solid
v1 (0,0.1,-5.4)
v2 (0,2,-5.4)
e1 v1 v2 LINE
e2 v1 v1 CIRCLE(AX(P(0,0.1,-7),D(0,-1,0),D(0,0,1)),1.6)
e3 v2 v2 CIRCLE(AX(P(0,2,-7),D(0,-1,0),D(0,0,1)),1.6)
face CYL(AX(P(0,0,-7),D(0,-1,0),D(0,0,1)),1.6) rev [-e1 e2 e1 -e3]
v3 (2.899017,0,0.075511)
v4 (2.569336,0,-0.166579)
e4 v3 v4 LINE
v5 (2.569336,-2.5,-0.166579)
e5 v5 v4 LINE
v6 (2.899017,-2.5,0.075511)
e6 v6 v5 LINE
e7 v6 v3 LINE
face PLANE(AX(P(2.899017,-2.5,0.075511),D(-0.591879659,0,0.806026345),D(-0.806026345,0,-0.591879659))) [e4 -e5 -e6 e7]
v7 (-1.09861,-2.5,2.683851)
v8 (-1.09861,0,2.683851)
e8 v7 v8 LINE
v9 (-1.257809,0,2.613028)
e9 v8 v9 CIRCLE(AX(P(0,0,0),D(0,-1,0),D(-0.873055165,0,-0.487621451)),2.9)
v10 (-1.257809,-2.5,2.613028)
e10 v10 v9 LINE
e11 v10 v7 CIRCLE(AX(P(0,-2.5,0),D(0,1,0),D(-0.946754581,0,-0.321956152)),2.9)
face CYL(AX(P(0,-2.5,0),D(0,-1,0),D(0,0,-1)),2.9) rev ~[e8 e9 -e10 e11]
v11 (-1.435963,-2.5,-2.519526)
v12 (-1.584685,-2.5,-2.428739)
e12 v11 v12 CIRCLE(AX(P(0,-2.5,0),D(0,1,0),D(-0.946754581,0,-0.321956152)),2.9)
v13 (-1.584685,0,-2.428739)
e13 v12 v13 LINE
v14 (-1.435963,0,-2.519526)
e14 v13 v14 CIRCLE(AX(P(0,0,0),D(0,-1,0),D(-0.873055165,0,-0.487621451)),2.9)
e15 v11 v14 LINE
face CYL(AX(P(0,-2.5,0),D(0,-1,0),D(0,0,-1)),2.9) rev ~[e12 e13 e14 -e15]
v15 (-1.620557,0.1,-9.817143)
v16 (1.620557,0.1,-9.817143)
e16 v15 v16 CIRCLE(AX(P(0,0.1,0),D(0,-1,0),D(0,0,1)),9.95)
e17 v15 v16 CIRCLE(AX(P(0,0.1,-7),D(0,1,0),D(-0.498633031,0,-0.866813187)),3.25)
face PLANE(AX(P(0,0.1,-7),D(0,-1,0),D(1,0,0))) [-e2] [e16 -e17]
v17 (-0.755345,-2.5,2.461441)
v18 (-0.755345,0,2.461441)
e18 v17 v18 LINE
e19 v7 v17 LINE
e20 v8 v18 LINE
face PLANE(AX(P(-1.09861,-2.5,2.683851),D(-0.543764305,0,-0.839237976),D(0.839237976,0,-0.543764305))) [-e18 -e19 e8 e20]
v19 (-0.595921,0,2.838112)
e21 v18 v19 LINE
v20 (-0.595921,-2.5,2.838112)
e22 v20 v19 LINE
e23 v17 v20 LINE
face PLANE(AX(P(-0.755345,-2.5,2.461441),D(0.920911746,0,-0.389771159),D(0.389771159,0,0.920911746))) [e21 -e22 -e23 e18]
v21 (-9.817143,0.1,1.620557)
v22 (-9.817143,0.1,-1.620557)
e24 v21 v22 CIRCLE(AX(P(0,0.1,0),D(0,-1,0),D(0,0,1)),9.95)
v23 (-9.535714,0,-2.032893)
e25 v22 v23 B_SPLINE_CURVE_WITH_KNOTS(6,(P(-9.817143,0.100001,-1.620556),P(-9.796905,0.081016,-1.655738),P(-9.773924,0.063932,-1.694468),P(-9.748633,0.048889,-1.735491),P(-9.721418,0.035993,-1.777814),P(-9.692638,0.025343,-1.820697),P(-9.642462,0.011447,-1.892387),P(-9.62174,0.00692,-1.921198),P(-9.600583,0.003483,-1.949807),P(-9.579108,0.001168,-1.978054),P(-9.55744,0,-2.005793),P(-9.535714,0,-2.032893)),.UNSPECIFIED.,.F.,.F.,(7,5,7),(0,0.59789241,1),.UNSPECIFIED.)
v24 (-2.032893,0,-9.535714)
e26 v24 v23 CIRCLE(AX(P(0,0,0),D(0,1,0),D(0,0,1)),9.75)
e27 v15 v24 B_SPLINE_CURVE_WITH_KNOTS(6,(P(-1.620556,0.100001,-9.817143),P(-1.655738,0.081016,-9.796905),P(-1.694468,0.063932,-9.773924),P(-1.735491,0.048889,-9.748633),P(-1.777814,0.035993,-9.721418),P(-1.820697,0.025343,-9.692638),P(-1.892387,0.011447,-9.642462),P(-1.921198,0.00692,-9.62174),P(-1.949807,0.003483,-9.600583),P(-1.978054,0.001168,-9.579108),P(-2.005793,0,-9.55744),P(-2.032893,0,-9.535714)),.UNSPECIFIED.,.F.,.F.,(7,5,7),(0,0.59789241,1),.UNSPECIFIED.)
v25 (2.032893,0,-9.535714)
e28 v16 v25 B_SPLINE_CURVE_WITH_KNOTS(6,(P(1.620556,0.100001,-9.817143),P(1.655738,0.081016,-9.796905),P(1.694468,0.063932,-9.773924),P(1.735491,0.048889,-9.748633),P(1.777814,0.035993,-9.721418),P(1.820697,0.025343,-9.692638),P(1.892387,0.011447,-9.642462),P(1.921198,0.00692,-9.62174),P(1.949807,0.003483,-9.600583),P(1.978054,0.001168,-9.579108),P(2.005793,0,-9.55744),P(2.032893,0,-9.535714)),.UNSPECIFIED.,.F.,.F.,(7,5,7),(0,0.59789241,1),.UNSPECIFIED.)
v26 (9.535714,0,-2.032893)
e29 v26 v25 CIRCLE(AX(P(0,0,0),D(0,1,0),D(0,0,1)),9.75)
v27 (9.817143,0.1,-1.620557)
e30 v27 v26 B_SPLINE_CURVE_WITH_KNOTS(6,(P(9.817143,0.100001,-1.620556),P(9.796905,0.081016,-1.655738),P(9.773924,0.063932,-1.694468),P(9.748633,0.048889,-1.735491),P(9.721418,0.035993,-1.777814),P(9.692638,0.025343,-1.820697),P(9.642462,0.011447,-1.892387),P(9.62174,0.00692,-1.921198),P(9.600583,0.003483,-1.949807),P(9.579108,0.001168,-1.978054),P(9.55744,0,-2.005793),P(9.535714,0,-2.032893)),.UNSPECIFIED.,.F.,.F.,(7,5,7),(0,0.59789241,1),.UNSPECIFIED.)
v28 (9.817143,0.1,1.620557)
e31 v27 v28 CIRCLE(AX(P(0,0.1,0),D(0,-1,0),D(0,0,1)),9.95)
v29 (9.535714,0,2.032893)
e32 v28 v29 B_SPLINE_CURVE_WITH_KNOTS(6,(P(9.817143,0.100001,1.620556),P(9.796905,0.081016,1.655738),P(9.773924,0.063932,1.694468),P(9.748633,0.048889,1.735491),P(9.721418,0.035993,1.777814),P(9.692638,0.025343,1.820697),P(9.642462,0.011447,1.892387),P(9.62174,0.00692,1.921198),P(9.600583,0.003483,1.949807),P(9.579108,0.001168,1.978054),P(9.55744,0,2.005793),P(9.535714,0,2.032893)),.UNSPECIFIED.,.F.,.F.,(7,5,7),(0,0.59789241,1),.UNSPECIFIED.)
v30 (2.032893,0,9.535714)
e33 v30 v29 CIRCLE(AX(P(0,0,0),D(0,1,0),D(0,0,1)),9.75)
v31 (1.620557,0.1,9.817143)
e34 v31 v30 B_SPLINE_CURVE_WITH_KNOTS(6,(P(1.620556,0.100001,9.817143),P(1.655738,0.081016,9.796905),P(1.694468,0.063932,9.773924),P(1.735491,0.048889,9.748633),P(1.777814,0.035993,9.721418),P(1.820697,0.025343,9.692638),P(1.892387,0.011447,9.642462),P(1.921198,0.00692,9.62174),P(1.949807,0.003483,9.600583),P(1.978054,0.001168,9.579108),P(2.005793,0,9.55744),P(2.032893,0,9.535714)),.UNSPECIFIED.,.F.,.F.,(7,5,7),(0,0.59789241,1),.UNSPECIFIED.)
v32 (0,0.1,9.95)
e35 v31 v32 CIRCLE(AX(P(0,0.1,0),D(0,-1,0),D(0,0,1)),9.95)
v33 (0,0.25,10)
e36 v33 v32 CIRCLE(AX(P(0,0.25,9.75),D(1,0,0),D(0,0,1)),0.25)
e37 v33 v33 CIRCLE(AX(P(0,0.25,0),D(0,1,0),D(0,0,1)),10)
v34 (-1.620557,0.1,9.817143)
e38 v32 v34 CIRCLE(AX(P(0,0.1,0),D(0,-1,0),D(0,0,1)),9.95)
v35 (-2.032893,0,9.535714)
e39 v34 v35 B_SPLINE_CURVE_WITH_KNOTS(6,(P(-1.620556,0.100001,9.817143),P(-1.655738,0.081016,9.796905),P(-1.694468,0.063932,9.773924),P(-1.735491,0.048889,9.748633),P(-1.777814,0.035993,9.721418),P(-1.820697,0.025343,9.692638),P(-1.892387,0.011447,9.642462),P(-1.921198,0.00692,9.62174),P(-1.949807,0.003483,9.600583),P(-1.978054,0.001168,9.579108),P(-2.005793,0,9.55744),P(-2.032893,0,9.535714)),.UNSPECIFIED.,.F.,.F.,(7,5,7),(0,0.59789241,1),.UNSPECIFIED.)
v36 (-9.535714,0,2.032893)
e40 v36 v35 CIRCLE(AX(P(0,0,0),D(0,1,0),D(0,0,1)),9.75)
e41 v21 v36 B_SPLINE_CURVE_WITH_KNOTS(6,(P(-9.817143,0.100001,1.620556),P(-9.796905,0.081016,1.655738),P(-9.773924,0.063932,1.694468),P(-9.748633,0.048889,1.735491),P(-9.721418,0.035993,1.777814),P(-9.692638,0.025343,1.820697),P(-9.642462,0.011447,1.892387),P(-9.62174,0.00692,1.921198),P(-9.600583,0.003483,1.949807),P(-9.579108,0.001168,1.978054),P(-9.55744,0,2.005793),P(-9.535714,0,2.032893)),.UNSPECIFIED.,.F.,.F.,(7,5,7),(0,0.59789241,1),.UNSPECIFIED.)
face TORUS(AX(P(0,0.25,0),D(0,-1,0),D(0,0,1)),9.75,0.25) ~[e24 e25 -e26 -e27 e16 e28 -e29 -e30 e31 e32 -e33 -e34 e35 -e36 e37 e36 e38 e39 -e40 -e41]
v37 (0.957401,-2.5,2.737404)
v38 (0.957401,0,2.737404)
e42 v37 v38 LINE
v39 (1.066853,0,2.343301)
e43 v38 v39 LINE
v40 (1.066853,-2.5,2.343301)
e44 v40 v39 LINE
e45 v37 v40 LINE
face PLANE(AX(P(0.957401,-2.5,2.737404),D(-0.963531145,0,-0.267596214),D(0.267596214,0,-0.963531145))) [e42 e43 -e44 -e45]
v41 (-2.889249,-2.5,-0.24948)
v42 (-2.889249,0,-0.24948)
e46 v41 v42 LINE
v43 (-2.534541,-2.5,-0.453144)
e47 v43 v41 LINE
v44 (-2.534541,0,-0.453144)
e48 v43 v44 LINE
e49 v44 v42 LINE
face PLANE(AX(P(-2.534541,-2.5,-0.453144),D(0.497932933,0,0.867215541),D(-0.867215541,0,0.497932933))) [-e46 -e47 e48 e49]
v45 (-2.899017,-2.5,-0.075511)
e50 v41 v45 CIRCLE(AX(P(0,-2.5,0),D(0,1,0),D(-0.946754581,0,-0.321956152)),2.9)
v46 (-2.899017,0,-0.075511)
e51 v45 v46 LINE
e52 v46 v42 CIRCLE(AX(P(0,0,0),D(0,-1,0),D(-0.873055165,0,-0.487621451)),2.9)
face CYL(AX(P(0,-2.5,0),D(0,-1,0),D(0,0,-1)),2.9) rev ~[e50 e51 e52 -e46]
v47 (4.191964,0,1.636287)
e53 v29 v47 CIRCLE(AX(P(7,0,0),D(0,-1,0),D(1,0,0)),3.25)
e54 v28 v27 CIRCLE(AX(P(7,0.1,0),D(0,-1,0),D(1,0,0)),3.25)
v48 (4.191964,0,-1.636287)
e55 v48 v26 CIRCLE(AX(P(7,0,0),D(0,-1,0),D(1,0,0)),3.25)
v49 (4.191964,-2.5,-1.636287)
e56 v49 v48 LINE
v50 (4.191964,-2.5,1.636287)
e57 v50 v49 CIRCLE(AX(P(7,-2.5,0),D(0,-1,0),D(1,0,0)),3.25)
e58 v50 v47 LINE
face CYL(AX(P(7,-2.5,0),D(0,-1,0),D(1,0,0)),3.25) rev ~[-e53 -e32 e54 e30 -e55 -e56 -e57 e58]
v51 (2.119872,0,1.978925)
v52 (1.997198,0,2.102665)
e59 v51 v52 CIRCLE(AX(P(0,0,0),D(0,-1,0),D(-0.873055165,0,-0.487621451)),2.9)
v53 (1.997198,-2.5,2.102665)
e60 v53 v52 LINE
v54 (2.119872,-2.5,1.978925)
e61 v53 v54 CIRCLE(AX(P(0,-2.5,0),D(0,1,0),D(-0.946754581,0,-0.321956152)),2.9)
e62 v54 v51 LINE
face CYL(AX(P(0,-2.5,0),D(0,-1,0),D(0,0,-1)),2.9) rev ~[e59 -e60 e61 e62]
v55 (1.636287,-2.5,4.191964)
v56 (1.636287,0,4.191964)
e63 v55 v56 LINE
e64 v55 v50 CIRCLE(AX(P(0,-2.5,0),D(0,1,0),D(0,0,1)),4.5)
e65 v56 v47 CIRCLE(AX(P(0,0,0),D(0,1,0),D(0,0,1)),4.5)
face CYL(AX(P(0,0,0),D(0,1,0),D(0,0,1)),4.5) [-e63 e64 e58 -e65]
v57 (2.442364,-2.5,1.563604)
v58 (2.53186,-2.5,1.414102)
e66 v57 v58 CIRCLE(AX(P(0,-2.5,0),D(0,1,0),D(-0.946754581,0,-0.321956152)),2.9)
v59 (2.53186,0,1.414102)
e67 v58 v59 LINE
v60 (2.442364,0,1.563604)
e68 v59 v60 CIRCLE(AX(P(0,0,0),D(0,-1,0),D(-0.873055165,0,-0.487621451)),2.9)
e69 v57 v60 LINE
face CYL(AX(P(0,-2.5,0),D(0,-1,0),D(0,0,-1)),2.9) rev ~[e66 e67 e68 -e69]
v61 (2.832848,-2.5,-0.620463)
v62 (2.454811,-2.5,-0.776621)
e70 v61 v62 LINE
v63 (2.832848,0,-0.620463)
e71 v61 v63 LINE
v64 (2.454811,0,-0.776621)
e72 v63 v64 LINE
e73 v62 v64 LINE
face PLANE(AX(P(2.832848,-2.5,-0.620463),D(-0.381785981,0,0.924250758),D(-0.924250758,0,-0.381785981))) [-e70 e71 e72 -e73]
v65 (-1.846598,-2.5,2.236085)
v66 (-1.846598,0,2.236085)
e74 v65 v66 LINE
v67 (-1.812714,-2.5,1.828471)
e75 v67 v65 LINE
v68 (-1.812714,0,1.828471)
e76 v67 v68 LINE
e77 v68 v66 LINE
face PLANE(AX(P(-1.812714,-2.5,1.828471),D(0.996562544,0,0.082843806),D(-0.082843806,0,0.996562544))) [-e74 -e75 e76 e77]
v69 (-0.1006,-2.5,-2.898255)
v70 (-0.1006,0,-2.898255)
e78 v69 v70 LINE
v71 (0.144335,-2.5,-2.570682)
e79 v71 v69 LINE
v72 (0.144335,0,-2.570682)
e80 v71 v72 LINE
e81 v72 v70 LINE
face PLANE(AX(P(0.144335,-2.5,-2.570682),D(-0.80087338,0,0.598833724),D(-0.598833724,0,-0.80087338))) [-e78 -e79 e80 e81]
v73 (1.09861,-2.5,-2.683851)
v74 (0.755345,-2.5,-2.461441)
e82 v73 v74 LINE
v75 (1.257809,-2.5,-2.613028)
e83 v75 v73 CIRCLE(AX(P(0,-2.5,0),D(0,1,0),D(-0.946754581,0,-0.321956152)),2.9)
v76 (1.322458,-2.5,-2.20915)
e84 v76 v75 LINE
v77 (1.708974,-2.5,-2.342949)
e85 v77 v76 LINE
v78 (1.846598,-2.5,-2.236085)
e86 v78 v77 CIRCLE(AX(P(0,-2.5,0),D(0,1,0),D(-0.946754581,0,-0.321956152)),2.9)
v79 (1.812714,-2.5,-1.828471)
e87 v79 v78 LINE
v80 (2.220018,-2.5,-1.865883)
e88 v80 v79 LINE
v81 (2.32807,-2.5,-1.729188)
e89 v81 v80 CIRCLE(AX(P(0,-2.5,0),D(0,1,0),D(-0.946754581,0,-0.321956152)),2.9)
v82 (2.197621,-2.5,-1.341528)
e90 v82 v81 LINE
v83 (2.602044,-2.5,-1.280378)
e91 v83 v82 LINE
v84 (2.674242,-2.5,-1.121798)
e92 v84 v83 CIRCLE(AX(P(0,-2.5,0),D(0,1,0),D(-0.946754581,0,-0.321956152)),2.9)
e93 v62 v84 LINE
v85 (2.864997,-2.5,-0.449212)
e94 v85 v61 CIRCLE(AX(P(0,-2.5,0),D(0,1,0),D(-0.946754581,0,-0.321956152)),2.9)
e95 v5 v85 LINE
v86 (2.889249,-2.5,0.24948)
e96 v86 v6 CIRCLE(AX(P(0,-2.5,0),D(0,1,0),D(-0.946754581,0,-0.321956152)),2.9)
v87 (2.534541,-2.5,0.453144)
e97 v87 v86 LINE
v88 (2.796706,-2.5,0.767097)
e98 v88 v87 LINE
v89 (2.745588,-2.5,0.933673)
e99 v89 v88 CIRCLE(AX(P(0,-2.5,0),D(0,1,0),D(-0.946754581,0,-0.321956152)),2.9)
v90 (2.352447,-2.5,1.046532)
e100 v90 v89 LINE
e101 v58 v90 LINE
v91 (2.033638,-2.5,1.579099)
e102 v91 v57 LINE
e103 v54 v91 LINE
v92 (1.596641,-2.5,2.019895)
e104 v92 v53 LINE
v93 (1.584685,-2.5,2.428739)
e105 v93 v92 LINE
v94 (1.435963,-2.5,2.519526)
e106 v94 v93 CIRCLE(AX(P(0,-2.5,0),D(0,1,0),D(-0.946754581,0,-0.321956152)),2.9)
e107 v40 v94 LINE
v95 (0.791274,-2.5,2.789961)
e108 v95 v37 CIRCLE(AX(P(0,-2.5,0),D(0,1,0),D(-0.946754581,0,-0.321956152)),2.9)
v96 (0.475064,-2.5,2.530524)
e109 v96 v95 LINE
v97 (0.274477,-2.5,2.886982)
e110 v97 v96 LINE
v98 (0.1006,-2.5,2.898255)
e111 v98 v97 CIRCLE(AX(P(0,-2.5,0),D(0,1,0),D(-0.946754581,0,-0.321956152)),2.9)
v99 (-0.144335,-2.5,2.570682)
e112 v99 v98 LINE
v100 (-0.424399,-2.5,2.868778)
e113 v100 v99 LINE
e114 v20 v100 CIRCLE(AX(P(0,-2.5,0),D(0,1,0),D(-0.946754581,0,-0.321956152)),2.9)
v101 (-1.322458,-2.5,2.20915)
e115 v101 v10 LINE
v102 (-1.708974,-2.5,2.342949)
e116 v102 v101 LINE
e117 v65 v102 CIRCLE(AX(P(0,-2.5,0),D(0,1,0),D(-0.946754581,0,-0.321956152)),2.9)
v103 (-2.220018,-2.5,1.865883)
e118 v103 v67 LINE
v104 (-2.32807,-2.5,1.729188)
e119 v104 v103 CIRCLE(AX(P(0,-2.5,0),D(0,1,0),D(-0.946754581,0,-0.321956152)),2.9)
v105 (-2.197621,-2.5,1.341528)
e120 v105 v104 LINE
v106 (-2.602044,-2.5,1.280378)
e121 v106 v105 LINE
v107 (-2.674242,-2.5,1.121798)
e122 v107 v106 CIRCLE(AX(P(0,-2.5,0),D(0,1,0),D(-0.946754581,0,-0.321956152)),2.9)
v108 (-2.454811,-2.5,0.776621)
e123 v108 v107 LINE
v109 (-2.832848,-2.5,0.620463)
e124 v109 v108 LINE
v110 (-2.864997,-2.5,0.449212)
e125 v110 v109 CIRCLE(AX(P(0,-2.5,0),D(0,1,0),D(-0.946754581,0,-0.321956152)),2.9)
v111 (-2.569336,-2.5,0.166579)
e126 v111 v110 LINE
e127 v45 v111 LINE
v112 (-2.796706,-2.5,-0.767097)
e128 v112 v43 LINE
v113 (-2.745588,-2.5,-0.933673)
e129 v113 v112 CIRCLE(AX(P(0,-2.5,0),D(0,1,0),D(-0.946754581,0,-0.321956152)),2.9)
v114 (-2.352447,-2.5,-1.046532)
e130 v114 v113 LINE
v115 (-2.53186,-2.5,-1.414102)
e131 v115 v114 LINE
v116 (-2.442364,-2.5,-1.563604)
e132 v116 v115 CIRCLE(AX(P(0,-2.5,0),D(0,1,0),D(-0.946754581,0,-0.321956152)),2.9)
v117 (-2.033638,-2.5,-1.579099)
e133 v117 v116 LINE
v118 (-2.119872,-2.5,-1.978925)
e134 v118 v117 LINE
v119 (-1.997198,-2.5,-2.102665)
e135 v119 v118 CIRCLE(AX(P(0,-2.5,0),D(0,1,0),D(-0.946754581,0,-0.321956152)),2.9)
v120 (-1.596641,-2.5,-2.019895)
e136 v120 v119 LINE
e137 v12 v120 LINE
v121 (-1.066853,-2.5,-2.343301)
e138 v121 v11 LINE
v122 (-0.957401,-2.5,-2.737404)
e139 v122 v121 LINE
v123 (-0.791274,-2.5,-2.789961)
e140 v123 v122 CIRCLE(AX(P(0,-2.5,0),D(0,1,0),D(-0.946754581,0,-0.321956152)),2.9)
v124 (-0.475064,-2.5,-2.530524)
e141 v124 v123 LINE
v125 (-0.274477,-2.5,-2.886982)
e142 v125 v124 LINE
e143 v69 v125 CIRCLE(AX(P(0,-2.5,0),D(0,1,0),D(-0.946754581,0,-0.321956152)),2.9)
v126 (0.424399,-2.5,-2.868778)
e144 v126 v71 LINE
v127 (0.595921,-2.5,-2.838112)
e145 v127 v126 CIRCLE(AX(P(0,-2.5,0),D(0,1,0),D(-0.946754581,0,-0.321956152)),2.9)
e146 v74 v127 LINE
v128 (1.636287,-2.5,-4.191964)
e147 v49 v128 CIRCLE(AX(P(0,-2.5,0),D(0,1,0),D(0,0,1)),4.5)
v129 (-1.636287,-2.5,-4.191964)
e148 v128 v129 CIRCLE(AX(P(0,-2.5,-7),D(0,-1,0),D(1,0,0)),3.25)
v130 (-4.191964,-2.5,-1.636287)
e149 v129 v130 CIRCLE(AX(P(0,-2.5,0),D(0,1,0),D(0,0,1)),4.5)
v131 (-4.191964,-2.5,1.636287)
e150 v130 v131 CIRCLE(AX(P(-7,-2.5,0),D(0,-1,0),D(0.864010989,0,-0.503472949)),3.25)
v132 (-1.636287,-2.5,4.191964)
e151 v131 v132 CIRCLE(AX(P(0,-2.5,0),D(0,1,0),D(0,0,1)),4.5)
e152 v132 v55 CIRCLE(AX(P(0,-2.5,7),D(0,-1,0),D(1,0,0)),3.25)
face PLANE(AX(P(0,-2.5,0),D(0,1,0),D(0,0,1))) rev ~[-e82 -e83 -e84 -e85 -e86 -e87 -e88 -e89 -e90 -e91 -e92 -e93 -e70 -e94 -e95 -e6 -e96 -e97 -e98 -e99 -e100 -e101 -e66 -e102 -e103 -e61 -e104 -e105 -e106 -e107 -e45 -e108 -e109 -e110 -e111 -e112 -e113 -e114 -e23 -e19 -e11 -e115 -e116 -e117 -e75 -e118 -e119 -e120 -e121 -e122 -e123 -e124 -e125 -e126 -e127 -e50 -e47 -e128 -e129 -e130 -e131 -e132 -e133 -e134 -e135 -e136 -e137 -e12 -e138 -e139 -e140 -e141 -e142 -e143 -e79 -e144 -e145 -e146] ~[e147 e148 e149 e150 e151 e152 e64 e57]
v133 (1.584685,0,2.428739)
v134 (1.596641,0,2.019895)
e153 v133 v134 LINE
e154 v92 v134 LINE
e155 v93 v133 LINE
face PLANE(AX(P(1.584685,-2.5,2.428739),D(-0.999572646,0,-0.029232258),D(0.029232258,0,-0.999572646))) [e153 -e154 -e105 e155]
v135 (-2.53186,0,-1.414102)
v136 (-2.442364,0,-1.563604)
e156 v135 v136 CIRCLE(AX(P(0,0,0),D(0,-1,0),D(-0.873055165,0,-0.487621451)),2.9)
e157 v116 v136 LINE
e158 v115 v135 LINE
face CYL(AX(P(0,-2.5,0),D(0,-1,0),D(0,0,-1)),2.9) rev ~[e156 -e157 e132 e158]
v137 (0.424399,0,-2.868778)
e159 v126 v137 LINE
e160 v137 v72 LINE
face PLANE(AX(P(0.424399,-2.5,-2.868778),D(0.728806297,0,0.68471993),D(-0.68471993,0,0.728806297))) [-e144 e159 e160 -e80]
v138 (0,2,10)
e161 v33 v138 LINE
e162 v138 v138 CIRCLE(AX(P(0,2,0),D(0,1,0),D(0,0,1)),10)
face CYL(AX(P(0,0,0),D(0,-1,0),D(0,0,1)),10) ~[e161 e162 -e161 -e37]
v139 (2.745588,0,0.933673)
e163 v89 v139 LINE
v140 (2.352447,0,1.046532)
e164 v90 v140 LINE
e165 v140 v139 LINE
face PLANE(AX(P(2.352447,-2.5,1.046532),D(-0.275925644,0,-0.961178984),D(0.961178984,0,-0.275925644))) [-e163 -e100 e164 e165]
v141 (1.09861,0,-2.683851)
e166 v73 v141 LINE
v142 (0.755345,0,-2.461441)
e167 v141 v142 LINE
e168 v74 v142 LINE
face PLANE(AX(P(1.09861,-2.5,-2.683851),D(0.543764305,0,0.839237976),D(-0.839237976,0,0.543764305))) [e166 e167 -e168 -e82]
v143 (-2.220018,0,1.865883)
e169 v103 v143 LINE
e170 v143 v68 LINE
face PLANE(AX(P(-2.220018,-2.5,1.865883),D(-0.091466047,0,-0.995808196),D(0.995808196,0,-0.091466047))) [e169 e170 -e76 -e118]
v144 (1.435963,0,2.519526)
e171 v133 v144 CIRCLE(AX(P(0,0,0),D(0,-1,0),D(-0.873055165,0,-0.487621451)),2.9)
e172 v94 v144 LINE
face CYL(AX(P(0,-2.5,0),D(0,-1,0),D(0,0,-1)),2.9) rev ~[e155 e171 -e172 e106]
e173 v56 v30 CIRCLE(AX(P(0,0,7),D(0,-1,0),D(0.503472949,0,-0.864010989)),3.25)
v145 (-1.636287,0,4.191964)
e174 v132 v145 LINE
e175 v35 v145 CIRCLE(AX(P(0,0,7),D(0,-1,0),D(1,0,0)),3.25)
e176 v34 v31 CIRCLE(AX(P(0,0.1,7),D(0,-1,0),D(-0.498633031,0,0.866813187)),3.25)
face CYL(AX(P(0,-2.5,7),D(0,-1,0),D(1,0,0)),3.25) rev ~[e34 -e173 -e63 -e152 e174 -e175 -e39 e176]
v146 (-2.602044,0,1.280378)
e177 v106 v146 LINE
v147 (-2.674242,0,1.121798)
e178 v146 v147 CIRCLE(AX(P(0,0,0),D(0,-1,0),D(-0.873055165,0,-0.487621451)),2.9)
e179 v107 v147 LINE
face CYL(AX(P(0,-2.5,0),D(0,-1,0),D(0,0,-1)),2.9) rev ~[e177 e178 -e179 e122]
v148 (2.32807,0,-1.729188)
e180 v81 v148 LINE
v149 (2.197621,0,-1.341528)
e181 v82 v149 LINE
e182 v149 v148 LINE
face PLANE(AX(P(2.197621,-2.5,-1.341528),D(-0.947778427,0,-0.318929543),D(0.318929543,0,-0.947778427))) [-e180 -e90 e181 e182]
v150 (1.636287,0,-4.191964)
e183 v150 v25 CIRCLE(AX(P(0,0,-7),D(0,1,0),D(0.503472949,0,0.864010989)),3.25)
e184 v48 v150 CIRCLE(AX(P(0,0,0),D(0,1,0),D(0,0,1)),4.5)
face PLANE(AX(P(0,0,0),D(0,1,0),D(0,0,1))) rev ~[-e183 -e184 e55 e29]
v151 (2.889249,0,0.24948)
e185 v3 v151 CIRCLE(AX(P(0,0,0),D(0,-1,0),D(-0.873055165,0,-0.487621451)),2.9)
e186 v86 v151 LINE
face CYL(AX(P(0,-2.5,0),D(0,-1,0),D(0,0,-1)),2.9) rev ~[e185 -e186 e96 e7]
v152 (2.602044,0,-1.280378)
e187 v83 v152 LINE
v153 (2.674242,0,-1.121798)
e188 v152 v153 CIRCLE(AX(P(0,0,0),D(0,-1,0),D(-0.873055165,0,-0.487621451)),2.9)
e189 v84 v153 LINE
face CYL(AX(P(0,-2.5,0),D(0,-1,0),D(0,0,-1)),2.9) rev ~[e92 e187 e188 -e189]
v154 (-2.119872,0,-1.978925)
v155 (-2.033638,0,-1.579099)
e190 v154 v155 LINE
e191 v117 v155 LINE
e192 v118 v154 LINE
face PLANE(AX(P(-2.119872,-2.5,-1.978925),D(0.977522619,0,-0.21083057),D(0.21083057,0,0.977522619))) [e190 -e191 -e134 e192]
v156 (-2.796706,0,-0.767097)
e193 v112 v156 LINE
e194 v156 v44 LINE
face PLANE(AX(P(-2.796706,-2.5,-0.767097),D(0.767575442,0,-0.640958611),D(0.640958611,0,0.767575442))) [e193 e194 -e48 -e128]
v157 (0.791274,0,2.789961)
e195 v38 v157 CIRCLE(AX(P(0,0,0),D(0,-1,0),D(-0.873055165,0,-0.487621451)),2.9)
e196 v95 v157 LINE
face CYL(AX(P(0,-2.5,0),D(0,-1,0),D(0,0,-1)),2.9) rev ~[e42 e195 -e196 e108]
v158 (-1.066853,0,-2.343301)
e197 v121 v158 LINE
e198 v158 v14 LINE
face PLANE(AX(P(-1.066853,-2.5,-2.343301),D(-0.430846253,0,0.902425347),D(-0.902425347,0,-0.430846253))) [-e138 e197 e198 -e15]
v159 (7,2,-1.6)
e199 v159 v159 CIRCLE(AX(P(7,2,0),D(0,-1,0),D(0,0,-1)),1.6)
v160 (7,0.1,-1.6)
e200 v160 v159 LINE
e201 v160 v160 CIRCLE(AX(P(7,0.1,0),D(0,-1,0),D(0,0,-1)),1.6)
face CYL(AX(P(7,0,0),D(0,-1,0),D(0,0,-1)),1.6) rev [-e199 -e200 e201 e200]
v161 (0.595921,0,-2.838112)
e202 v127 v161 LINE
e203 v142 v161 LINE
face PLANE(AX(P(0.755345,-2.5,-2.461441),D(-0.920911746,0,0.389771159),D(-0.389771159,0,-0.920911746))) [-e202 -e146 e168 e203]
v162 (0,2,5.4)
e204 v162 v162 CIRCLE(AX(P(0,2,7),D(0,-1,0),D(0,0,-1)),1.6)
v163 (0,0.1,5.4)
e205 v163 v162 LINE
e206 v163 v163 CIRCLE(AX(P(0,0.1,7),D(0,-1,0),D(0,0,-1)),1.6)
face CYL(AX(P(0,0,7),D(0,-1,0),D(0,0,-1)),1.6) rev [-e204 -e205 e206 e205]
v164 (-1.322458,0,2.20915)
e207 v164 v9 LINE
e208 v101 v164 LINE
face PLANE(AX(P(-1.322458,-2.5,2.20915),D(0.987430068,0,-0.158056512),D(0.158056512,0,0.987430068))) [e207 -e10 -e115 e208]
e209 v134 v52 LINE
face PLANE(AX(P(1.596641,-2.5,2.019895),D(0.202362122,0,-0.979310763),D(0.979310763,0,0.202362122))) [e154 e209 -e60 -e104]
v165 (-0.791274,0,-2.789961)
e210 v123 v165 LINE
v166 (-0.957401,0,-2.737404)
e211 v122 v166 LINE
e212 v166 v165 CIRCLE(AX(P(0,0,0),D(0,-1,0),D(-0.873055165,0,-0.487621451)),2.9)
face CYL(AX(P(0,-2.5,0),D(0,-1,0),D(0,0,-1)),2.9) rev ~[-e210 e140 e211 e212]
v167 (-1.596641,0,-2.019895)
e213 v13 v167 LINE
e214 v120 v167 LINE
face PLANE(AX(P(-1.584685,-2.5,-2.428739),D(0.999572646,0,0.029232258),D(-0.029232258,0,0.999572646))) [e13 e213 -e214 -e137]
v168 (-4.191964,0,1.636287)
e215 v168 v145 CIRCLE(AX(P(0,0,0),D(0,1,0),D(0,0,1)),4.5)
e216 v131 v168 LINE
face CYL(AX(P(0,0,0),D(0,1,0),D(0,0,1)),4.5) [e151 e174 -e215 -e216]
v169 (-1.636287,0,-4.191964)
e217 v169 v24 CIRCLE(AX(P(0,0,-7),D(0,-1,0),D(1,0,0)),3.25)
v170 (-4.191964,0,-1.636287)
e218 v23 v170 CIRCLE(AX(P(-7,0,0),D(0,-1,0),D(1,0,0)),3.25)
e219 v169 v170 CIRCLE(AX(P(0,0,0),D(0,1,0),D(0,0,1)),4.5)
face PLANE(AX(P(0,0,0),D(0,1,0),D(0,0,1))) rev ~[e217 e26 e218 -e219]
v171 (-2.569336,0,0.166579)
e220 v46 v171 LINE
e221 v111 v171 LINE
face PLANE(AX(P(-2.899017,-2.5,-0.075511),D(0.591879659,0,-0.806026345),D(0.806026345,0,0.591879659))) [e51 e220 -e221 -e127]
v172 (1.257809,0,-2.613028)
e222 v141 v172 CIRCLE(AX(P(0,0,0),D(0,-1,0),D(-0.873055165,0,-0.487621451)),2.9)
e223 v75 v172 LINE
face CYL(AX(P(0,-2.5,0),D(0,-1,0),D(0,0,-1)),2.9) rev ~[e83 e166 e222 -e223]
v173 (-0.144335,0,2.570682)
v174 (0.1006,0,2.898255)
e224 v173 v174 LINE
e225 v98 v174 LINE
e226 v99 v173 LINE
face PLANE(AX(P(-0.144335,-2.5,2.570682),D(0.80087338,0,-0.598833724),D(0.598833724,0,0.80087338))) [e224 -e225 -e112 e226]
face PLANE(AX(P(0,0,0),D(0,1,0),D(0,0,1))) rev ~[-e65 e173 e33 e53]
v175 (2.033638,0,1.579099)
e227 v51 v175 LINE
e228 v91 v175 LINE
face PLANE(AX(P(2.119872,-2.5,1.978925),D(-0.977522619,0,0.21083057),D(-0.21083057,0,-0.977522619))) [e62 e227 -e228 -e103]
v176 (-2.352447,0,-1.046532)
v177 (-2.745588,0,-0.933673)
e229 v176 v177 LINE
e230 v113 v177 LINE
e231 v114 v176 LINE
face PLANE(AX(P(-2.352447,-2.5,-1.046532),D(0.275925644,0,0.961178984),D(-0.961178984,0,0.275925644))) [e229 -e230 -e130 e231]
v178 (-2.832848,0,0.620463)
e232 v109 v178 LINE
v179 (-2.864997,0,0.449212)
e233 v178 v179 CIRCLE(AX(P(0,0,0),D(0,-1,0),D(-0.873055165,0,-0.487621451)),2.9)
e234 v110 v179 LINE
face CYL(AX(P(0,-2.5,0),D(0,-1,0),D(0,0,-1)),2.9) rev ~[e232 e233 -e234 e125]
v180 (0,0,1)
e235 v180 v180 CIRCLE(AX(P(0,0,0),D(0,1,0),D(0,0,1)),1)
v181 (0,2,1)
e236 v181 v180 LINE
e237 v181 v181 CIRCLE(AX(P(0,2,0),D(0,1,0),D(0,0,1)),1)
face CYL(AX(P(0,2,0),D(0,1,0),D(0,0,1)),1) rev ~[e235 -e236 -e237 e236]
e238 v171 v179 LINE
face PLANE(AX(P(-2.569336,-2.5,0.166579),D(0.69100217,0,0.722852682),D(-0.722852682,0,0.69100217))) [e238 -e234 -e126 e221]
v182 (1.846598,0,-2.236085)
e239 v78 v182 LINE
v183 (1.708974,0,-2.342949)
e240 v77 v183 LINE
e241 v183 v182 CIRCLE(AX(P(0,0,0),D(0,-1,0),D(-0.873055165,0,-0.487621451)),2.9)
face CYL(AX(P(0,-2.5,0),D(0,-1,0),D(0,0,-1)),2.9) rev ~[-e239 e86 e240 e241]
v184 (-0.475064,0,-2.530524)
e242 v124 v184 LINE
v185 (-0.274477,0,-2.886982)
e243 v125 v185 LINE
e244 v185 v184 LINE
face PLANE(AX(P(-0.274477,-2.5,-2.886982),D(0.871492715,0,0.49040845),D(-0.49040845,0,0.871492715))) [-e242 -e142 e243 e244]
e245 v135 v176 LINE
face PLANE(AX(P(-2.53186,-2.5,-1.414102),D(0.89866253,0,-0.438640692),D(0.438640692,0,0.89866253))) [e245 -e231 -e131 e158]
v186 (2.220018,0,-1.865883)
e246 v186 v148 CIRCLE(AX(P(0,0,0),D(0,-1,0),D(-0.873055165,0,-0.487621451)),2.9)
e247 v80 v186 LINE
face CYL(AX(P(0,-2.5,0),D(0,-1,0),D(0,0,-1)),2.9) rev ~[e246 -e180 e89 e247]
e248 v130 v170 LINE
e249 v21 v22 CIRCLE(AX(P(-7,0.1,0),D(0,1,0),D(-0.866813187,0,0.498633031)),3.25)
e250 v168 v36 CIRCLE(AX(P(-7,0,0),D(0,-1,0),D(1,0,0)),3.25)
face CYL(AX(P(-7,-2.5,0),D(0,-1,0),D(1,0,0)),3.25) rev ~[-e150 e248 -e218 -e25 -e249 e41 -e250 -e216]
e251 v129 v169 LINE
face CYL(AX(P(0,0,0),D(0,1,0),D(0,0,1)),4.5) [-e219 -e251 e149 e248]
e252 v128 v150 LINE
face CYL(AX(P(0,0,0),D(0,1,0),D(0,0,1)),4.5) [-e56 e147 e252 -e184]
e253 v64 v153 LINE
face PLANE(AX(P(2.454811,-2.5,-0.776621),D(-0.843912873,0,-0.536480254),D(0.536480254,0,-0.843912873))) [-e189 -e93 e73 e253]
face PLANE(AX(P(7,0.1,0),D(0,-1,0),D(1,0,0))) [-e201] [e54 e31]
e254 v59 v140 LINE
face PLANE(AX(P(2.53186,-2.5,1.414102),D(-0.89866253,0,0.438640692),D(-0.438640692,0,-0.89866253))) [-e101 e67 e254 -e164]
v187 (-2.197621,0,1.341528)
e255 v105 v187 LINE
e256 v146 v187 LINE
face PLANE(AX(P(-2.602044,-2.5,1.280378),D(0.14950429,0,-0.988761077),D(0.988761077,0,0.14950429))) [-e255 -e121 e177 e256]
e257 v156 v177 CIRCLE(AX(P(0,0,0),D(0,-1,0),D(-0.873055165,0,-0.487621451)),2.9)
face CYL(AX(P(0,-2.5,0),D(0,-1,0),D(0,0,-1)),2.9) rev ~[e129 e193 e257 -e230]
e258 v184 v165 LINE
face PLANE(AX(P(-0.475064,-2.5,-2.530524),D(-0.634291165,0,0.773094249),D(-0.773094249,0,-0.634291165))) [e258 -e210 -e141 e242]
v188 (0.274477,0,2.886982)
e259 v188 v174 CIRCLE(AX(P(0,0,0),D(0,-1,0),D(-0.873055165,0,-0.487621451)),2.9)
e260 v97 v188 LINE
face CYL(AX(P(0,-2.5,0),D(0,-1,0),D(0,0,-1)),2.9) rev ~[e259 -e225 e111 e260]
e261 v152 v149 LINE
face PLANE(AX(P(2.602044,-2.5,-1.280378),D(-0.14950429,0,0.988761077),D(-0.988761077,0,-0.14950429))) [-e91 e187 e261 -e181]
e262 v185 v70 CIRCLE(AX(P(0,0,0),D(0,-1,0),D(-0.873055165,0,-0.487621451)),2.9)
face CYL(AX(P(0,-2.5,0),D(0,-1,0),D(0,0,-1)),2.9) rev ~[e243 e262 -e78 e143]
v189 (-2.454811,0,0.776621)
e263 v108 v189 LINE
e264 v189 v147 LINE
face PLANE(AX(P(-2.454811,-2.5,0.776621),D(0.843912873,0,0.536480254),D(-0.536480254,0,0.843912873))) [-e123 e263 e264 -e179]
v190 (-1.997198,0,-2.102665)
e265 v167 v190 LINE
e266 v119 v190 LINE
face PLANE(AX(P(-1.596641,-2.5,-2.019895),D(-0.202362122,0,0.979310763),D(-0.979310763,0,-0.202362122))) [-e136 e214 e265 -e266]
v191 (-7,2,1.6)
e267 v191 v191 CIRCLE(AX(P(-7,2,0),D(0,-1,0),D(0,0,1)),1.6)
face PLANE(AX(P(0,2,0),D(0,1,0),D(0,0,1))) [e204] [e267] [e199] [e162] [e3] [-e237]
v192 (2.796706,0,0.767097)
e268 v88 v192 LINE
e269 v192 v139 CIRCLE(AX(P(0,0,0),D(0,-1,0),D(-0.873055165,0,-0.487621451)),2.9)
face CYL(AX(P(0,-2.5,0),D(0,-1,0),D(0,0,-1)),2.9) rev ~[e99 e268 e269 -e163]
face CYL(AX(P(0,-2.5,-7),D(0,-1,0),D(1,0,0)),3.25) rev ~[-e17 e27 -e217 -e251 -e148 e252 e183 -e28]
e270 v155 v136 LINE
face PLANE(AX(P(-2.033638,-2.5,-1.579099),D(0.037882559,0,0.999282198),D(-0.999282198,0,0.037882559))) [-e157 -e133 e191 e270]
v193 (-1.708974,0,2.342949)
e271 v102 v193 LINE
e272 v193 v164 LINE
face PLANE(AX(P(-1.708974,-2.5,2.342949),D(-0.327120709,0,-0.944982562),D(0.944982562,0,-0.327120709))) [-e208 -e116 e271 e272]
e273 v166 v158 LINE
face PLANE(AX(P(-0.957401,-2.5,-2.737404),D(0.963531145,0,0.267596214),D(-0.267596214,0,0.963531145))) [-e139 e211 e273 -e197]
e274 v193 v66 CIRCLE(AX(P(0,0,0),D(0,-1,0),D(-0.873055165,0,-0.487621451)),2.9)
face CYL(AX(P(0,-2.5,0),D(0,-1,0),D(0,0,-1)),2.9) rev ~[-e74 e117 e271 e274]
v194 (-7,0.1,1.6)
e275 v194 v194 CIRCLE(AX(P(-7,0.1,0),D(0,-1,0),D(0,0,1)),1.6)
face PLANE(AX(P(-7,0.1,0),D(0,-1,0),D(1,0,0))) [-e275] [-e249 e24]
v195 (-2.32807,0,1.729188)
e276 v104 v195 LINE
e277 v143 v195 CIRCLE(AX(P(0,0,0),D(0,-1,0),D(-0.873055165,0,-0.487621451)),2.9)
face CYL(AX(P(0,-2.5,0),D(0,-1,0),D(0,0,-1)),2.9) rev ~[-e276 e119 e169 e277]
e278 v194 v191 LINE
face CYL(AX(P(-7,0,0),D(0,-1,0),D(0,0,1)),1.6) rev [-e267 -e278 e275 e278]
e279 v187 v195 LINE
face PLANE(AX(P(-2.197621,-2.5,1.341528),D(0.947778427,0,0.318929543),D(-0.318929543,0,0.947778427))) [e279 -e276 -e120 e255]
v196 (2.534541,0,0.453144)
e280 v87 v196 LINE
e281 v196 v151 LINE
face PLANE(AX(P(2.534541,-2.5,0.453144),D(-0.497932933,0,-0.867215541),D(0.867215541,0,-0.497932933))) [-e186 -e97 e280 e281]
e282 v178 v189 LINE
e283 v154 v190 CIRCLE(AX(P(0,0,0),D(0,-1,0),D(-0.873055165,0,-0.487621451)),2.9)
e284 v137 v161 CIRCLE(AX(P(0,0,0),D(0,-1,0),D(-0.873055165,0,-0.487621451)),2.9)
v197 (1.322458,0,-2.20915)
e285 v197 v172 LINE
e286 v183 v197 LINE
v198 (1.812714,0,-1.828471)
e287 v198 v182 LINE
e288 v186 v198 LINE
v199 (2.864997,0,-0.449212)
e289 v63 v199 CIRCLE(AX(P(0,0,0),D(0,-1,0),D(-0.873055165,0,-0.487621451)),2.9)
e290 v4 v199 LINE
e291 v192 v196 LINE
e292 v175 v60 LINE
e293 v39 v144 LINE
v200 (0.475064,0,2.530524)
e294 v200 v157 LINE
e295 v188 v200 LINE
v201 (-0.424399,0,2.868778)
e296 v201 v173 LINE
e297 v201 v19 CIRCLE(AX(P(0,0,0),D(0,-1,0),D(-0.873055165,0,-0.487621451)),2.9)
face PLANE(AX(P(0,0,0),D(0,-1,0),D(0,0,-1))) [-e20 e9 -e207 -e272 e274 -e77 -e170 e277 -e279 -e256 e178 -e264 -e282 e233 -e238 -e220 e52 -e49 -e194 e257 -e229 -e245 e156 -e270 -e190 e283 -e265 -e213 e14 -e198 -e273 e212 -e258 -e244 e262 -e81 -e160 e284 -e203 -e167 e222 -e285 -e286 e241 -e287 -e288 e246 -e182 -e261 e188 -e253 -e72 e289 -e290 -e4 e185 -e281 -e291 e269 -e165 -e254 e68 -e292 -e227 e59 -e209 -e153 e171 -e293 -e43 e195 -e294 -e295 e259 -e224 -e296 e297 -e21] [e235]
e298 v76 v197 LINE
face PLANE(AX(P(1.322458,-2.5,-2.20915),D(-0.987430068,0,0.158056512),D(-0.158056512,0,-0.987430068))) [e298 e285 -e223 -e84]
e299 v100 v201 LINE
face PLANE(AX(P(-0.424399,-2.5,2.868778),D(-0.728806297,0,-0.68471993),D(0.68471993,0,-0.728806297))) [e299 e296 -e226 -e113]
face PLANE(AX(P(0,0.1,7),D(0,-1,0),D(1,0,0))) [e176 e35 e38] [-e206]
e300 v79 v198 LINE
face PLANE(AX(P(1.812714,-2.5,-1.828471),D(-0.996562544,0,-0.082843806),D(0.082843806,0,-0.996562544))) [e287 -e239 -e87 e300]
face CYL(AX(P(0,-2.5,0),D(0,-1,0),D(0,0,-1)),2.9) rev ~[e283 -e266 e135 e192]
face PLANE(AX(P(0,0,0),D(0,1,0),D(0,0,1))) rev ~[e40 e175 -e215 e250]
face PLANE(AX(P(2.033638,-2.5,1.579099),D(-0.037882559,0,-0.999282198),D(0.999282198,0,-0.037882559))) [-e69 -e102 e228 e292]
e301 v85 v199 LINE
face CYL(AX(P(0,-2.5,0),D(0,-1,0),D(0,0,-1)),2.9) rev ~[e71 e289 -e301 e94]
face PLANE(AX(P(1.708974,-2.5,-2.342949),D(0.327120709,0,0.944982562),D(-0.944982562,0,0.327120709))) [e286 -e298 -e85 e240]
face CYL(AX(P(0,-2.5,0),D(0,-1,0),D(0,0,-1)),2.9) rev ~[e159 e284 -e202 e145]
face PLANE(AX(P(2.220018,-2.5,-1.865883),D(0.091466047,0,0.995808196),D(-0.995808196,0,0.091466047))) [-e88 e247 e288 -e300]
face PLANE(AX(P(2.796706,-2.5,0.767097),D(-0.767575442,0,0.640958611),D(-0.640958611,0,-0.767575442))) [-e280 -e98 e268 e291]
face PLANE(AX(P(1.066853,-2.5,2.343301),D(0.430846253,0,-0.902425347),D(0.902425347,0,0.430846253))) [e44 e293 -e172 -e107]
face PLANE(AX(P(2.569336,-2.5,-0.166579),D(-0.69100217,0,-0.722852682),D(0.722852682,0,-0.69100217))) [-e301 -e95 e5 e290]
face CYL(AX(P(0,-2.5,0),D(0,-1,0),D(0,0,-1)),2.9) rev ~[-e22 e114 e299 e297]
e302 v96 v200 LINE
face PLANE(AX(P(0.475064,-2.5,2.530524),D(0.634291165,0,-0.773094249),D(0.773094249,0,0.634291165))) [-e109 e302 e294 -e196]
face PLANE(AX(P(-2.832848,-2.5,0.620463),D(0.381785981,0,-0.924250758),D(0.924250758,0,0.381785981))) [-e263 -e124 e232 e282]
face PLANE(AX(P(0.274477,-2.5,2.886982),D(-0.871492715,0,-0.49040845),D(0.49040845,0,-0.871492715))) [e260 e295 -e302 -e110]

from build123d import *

# Parameters (mm, degrees)
SKETCH1_R           = 10
BOSS_EXTRUDE1_DEPTH = 2
SKETCH2_R           = 4.5
BOSS_EXTRUDE2_DEPTH = 2.5
FILLET1_R           = 0.25
SKETCH6_R           = 1
CUT_EXTRUDE2_DEPTH  = 15.840822214
SKETCH7_R           = 2.9
CUT_EXTRUDE3_DEPTH  = 2.5
BOSS_EXTRUDE4_DEPTH = 2.5
CIRPATTERN1_COUNT   = 26
SKETCH3_R           = 1.6
CUT_EXTRUDE4_DEPTH  = 15.361406756
SKETCH9_R           = 3.25
CUT_EXTRUDE5_DEPTH  = 2.6


with BuildPart() as part:
    # Sketch1 → Boss-Extrude1 (new body)
    with BuildSketch(Plane(origin=(0, 0, 0), x_dir=(1, 0, 0), z_dir=(0, 1, 0))):
        with Locations(Location((0, 0, 0), (0, 0, 270))):
            Circle(SKETCH1_R)
    extrude(amount=BOSS_EXTRUDE1_DEPTH)

    # Sketch2 → Boss-Extrude2 (add)
    with BuildSketch(Plane(origin=(0, 0, 0), x_dir=(1, 0, 0), z_dir=(0, 1, 0))):
        with Locations(Location((0, 0, 0), (0, 0, 270))):
            Circle(SKETCH2_R)
    extrude(amount=-BOSS_EXTRUDE2_DEPTH)

    # Fillet1
    fillet1_edges = [part.edges().sort_by_distance(p)[0] for p in [
        (0, 0, -10),
    ]]
    fillet(fillet1_edges, radius=FILLET1_R)

    # Sketch6 → Cut-Extrude2 (cut, through all)
    with BuildSketch(Plane(origin=(0, 2, 0), x_dir=(1, 0, 0), z_dir=(0, 1, 0))):
        with Locations(Location((0, 0, 0), (0, 0, 270))):
            Circle(SKETCH6_R)
    extrude(amount=-CUT_EXTRUDE2_DEPTH, mode=Mode.SUBTRACT)

    # Sketch7 → Cut-Extrude3 (cut)
    with BuildSketch(Plane.XZ.offset(2.5)):
        with Locations(Location((0, 0, 0), (0, 0, 270))):
            Circle(SKETCH7_R)
    extrude(amount=-CUT_EXTRUDE3_DEPTH, mode=Mode.SUBTRACT)

    # Sketch8 → Boss-Extrude4 (add)
    with BuildSketch(Plane.XZ.offset(2.5)):
        with BuildLine():
            Line((-2.35244742, -1.046531787), (-2.745588284, -0.933672842))
            ThreePointArc((-2.745588284, -0.933672842), (-2.649635472, -1.178741646), (-2.531859978, -1.414102207))
            Line((-2.531859978, -1.414102207), (-2.35244742, -1.046531787))
        make_face()
    boss_extrude4 = extrude(amount=-BOSS_EXTRUDE4_DEPTH)

    # CirPattern1: Boss-Extrude4 ×26 about axis
    cirpattern1_axis = Axis((0, 0, 0), (0, 1, 0))
    for i in range(1, CIRPATTERN1_COUNT):
        add(boss_extrude4.rotate(cirpattern1_axis, i * 360 / CIRPATTERN1_COUNT))

    # Sketch3 → Cut-Extrude4 (cut, through all)
    with BuildSketch(Plane(origin=(0, 0, 0), x_dir=(1, 0, 0), z_dir=(0, 1, 0))):
        with Locations(Location((0, 7, 0), (0, 0, 270))):
            Circle(SKETCH3_R)
        with Locations(Location((-7, 0, 0), (0, 0, 270))):
            Circle(SKETCH3_R)
        with Locations(Location((0, -7, 0), (0, 0, 90))):
            Circle(SKETCH3_R)
        with Locations(Location((7, 0, 0), (0, 0, 90))):
            Circle(SKETCH3_R)
    extrude(amount=CUT_EXTRUDE4_DEPTH, mode=Mode.SUBTRACT)

    # Sketch9 → Cut-Extrude5 (cut)
    with BuildSketch(Plane.XZ.offset(2.5)):
        with Locations((7, 0)):
            Circle(SKETCH9_R)
        with Locations((0, -7)):
            Circle(SKETCH9_R)
        with Locations((-7, 0)):
            Circle(SKETCH9_R)
        with Locations((0, 7)):
            Circle(SKETCH9_R)
    extrude(amount=-CUT_EXTRUDE5_DEPTH, mode=Mode.SUBTRACT)


solid = part.part
